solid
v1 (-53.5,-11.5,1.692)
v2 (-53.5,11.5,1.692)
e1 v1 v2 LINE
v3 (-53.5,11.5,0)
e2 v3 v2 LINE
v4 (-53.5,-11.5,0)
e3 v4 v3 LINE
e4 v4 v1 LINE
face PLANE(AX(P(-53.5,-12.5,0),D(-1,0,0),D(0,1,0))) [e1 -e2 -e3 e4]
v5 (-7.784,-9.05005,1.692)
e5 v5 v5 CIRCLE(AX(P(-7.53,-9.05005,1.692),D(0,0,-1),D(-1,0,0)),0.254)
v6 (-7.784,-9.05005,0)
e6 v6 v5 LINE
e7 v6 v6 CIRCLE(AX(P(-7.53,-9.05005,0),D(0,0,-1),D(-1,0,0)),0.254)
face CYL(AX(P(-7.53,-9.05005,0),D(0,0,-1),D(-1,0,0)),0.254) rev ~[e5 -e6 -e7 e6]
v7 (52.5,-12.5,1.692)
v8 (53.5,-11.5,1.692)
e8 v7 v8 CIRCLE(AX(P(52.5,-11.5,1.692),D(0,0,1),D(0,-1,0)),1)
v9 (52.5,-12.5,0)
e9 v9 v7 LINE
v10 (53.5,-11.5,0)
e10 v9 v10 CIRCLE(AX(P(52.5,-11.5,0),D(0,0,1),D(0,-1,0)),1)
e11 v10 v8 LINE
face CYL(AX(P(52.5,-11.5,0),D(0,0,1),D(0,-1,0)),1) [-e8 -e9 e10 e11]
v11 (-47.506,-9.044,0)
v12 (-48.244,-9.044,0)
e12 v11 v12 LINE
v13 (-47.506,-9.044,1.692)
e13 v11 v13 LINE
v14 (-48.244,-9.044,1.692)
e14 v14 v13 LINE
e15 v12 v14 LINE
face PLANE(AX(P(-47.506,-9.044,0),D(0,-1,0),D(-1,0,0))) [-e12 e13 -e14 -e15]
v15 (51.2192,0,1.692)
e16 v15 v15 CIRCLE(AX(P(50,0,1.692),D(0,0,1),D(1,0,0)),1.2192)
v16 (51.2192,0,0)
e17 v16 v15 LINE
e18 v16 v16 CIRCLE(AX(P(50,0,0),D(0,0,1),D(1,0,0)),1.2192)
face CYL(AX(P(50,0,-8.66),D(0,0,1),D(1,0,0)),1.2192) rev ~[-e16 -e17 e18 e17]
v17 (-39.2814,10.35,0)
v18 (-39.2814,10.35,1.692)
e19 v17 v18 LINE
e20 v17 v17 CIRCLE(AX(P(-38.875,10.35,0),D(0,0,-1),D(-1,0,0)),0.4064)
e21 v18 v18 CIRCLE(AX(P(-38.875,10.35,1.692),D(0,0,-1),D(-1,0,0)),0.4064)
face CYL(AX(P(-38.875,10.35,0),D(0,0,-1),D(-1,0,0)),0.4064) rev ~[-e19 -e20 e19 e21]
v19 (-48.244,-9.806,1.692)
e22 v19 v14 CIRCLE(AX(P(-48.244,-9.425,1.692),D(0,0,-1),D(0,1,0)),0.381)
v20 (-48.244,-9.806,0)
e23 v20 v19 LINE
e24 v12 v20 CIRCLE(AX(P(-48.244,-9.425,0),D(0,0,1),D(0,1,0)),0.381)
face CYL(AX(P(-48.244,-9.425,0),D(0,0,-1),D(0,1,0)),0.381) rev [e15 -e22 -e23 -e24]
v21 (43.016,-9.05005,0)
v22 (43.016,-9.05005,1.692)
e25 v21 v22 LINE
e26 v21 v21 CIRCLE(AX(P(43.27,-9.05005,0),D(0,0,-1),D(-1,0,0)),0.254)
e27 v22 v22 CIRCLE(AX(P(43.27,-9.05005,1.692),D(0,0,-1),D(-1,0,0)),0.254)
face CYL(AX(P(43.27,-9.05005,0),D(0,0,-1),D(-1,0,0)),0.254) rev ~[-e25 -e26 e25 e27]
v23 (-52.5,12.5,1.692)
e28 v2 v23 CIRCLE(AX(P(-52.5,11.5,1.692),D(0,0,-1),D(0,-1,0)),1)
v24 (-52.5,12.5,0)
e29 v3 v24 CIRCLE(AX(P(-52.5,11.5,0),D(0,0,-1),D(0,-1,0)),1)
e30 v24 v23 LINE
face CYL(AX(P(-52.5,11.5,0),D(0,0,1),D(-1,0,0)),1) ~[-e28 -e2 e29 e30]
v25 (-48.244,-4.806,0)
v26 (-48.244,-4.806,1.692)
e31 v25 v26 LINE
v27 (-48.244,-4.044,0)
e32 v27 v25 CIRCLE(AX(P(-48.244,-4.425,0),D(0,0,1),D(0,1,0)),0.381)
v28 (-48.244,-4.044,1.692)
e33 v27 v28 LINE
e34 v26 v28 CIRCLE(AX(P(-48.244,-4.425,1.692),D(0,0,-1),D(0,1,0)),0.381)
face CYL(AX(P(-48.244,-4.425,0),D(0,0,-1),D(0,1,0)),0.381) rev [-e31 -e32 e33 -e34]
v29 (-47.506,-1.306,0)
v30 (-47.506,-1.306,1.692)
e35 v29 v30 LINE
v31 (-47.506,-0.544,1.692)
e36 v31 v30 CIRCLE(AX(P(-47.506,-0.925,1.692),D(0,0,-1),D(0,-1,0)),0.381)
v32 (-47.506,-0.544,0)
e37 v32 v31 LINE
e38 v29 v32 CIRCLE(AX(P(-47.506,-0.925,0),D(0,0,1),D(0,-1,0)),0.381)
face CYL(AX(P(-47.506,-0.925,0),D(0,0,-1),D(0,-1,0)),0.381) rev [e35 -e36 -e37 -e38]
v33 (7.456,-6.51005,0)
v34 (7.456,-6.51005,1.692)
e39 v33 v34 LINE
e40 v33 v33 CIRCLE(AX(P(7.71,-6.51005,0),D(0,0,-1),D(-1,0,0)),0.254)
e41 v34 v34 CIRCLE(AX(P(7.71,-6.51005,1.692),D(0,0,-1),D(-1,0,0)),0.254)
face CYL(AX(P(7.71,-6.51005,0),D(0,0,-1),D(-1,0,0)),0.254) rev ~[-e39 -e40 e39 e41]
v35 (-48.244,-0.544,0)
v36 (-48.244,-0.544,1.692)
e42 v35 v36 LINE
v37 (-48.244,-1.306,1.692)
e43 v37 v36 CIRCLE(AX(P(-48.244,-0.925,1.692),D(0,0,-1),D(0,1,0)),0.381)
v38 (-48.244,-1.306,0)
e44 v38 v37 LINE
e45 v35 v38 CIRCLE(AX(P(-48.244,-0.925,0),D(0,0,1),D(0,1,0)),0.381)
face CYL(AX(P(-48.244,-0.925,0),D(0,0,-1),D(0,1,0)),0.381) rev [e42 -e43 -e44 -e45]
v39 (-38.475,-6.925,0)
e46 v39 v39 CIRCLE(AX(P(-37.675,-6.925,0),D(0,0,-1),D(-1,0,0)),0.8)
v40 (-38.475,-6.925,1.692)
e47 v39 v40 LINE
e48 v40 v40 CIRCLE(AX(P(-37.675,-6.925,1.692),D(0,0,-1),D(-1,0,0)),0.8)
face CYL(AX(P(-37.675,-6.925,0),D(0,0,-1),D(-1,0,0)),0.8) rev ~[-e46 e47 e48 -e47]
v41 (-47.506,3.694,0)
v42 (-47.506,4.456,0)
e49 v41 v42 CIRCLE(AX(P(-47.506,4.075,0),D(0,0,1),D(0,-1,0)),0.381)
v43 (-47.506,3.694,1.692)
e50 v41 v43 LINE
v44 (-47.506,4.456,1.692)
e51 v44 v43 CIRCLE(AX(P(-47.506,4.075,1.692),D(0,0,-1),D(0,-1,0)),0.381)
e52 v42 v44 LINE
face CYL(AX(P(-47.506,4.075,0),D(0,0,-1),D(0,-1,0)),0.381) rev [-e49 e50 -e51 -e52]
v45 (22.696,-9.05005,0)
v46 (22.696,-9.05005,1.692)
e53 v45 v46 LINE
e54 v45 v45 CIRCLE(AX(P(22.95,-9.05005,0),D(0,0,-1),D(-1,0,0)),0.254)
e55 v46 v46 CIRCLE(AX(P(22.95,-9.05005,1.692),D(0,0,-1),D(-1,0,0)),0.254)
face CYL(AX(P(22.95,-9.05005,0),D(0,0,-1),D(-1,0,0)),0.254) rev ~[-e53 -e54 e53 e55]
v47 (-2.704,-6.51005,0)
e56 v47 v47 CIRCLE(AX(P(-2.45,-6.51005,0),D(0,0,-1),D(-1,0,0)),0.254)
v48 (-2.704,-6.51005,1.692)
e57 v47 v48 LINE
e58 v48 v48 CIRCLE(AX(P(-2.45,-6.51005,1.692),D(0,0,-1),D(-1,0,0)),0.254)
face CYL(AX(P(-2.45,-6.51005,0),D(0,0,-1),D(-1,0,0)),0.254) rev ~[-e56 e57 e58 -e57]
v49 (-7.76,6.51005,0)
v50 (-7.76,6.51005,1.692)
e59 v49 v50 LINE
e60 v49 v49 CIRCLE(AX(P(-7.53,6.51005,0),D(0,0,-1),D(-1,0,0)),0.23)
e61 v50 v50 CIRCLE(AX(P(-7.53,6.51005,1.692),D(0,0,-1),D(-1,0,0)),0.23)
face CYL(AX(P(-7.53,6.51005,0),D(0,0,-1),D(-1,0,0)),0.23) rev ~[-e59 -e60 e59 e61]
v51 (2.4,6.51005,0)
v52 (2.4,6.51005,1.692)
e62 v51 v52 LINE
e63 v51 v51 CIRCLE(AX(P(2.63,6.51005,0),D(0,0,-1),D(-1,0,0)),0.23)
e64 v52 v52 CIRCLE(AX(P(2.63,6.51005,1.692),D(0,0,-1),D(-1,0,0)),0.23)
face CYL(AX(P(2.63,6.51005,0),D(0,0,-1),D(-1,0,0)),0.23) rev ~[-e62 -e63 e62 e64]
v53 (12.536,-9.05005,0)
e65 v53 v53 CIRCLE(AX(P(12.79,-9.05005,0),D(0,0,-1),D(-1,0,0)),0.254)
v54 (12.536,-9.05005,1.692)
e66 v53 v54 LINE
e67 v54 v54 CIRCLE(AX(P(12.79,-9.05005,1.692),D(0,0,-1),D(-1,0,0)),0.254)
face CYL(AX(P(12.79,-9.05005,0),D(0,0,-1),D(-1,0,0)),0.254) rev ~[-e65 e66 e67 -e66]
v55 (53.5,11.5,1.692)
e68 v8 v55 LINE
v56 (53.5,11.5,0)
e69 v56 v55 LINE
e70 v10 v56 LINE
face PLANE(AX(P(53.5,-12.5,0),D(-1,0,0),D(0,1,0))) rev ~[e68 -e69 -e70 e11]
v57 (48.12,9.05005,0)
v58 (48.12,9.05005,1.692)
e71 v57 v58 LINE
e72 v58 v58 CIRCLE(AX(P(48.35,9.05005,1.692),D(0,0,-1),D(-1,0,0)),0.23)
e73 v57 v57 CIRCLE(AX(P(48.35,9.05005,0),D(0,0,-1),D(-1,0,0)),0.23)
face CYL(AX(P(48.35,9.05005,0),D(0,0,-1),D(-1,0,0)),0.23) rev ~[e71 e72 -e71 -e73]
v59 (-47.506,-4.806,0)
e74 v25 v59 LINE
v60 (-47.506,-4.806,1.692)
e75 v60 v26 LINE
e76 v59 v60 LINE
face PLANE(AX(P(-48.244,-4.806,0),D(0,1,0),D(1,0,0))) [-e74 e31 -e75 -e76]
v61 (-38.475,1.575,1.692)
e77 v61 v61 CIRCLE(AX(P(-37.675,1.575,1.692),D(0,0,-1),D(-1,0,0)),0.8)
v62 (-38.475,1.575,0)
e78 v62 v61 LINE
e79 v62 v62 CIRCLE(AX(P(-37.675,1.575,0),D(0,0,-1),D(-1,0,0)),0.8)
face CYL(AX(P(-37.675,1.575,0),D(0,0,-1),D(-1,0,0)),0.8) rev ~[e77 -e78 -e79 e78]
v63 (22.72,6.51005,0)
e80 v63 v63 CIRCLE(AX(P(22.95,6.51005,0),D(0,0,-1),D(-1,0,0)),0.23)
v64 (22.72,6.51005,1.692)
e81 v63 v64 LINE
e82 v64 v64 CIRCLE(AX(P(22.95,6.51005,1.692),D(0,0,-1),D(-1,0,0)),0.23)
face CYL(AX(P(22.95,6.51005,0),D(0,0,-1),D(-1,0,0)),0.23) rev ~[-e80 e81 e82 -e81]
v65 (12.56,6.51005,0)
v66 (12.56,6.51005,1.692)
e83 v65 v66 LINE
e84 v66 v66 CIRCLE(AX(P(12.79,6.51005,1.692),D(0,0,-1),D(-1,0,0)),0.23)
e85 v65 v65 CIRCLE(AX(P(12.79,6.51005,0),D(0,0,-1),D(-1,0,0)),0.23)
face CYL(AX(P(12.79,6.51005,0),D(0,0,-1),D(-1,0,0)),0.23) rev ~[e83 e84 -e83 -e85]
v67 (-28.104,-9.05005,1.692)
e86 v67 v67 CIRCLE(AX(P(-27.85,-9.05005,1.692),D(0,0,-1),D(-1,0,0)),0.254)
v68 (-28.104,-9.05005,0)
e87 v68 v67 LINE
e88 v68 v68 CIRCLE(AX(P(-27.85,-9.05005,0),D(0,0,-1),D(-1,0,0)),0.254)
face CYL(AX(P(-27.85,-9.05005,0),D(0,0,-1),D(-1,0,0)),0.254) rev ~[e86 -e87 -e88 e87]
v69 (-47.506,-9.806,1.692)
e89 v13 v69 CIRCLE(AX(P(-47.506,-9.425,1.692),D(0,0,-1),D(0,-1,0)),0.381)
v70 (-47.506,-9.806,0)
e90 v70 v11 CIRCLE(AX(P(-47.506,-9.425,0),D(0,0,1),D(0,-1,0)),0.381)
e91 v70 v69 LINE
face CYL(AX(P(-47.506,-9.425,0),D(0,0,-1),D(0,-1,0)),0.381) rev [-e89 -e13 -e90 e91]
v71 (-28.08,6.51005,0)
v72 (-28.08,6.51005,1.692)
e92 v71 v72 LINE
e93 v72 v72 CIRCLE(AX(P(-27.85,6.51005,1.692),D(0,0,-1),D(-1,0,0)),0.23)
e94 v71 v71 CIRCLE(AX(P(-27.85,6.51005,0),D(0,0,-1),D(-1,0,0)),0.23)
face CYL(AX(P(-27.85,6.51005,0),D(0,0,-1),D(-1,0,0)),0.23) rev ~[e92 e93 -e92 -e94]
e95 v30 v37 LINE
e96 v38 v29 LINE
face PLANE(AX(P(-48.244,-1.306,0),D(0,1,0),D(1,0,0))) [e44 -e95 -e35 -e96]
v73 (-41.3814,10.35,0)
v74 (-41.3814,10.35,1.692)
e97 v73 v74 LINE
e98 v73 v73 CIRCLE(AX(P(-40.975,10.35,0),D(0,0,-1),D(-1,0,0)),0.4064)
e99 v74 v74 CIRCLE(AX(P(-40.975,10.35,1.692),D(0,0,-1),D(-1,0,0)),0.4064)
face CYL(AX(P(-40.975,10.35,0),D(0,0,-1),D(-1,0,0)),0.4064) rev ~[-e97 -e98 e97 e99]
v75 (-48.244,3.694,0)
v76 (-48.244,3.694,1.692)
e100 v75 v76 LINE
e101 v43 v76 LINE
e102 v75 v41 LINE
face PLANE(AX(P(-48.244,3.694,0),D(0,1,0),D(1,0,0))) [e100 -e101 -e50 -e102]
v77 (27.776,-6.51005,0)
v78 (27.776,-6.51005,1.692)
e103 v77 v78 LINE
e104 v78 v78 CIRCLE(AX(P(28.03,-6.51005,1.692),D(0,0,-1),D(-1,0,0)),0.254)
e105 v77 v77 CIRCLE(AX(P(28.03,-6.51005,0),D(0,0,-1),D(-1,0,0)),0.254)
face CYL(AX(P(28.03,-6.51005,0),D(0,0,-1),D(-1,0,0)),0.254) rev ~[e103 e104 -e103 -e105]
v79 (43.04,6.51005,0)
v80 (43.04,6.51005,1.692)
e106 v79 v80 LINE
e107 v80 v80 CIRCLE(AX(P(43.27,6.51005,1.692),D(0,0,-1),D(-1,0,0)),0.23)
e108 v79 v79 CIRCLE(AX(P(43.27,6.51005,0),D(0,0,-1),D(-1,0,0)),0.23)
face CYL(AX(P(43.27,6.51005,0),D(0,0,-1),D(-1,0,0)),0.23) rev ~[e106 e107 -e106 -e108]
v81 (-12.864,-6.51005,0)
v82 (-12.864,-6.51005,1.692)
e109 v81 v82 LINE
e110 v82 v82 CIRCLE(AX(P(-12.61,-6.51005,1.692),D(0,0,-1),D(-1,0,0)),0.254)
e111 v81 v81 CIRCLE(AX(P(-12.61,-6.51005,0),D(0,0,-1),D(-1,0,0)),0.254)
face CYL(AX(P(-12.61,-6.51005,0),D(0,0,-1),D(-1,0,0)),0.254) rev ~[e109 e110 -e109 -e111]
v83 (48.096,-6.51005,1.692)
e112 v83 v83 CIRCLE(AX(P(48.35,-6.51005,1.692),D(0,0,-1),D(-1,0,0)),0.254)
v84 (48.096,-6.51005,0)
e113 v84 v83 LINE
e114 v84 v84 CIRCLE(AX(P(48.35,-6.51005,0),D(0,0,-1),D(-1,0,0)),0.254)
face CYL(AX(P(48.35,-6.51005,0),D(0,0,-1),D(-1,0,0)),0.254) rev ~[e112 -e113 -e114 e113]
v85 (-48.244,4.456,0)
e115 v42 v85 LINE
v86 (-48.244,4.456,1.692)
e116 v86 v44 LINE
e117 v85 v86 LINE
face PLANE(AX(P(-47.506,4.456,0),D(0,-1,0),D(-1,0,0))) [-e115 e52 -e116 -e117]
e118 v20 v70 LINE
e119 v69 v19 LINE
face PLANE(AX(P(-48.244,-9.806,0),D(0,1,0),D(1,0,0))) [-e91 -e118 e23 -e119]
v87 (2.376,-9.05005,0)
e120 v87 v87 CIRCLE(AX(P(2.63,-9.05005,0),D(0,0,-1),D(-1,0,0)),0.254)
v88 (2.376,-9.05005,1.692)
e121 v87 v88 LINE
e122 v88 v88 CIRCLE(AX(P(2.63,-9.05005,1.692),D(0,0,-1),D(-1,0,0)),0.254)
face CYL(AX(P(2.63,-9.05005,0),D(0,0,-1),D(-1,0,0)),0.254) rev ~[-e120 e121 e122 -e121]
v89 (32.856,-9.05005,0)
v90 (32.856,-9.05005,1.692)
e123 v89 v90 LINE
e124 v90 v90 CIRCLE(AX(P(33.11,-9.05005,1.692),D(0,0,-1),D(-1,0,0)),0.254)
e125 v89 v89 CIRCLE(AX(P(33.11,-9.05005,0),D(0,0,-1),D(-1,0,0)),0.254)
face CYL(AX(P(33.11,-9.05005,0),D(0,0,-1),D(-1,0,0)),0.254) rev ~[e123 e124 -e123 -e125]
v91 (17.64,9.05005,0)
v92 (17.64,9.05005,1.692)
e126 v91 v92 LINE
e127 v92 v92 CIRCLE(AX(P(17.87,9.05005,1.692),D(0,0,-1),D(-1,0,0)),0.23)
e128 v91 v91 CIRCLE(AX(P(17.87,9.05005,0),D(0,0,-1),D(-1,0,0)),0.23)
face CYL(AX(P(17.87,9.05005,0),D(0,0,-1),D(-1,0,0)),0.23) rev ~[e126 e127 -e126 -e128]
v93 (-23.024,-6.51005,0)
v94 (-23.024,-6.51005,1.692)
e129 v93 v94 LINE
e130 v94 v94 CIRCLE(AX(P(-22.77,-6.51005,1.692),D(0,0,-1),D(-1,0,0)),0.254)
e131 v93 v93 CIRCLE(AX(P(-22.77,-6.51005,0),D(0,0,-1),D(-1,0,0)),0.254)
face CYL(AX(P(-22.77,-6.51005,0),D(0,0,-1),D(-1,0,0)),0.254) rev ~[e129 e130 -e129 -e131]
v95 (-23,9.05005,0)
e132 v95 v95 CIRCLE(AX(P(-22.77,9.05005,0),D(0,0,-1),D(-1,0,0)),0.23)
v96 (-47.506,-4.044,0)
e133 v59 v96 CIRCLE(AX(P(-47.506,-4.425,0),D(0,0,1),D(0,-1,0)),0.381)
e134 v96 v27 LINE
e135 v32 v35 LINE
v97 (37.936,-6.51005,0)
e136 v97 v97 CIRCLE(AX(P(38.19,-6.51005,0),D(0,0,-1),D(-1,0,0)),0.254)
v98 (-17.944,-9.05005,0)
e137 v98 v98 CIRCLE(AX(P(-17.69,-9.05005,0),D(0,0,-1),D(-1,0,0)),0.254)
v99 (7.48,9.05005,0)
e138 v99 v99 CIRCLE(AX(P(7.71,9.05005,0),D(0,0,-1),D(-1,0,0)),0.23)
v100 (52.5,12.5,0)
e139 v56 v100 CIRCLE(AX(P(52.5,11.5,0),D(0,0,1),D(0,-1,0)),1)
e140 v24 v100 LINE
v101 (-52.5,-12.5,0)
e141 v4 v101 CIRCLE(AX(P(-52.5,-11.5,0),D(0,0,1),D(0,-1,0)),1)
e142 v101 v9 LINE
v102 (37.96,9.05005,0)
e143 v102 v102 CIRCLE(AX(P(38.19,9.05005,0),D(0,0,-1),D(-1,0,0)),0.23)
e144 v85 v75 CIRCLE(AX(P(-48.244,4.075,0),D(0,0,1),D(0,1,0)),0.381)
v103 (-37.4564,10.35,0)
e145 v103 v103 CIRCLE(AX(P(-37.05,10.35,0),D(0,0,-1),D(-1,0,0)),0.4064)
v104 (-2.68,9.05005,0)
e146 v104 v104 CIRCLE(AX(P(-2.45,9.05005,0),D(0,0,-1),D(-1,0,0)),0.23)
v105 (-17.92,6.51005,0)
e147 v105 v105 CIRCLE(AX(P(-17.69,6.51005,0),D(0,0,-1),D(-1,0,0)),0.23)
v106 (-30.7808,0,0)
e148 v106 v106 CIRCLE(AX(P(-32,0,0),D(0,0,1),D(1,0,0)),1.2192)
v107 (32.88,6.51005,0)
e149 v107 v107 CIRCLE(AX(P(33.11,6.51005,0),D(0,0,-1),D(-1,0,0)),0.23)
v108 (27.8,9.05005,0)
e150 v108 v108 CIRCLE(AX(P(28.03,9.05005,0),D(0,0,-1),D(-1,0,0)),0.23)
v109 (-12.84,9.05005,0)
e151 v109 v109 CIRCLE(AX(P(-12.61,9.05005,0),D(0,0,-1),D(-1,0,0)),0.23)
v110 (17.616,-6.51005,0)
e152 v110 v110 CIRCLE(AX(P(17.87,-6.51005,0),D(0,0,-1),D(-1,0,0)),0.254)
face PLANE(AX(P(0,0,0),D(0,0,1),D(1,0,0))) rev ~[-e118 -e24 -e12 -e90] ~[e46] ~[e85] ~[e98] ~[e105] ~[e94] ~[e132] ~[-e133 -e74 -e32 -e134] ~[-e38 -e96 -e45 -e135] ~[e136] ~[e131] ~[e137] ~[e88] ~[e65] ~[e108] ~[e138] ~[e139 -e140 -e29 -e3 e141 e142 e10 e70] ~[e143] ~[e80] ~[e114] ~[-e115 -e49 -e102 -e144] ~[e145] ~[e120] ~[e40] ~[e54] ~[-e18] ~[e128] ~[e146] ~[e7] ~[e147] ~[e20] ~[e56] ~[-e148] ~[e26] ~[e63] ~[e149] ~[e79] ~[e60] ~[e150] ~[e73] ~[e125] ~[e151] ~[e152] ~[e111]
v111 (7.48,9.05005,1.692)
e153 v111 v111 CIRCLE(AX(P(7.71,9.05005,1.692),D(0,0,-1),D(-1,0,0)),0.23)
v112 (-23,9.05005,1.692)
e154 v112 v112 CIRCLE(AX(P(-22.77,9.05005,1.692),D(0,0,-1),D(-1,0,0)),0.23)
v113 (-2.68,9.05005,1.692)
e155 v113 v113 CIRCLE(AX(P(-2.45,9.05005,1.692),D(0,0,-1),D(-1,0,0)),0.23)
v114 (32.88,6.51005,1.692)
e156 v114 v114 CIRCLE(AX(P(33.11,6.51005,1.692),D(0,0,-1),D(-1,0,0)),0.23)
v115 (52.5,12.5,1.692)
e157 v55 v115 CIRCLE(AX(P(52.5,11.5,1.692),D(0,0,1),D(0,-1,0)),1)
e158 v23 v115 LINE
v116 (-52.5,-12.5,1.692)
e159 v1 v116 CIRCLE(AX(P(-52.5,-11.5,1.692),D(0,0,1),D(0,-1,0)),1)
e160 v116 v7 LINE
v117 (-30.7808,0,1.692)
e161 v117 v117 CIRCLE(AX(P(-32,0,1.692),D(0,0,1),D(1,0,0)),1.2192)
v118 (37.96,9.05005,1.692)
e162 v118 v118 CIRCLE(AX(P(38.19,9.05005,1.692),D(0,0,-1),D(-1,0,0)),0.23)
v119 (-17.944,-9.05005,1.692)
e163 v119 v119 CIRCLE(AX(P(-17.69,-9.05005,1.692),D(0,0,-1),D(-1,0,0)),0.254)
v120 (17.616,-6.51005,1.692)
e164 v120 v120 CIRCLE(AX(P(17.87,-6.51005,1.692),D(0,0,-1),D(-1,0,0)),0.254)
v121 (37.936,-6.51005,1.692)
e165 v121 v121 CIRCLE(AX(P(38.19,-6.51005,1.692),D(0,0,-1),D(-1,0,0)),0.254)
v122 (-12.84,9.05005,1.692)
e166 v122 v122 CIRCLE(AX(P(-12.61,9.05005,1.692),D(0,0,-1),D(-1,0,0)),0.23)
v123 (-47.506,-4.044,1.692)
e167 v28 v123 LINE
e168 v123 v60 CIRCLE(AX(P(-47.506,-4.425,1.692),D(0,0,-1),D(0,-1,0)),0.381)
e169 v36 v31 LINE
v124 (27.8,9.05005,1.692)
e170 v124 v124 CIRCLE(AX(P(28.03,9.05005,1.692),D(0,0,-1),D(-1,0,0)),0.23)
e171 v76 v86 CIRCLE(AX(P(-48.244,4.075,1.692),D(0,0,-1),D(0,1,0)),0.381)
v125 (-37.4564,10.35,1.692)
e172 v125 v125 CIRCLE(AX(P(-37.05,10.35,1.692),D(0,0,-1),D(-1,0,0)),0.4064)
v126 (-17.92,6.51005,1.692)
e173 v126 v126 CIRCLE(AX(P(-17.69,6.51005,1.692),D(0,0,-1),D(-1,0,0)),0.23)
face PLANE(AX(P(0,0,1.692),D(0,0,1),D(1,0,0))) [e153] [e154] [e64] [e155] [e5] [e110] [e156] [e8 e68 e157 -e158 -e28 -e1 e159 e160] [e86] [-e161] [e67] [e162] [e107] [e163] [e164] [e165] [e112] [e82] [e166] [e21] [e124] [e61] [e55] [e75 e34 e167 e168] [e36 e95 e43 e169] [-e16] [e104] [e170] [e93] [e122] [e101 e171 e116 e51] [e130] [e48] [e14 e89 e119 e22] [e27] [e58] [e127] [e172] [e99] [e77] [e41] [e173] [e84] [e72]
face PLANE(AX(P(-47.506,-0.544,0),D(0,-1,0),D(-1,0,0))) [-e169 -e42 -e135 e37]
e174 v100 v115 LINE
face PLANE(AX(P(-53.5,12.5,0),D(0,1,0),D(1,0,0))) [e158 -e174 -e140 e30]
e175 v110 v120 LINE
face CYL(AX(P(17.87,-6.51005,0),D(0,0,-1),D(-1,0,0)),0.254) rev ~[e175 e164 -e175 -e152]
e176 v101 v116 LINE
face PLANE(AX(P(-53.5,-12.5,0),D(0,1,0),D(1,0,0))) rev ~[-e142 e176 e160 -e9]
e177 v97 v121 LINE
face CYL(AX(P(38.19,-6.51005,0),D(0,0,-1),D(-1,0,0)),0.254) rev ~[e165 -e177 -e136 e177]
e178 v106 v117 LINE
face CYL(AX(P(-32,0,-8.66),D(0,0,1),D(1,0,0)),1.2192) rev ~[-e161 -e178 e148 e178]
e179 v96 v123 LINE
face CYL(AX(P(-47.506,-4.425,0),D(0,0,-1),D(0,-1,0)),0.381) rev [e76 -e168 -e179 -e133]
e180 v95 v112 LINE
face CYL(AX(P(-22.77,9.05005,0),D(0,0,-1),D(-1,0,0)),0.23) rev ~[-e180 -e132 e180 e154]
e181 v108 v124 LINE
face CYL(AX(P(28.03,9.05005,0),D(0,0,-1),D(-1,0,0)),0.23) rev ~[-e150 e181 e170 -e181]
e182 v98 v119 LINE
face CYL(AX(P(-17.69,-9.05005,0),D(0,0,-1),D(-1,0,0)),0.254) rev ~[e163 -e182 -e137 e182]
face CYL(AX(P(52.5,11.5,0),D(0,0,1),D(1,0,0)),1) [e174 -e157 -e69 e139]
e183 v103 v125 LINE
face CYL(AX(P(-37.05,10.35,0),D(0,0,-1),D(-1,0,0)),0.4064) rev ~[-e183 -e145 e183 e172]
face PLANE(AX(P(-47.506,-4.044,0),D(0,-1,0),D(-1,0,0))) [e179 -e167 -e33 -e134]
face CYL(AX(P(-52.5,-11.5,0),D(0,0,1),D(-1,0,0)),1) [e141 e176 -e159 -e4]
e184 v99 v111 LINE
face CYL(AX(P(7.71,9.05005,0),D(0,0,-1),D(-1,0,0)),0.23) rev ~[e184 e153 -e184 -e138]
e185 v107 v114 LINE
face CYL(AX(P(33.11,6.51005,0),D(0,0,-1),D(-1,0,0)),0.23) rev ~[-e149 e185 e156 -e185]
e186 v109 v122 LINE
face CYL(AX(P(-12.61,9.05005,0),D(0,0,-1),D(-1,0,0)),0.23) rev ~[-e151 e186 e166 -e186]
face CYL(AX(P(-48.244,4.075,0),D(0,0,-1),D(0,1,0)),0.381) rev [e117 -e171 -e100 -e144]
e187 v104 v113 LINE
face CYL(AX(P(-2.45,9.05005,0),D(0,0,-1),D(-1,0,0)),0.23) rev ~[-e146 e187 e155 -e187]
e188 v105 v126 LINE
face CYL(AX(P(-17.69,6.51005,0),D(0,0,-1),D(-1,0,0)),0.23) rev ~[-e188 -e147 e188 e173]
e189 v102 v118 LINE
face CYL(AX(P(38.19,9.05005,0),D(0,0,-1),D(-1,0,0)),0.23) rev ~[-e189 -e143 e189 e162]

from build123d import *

# Parameters (mm, degrees)
SKETCH1_W                 = 107
SKETCH1_H                 = 25
SKETCH1_W_2               = 86.65
SKETCH1_H_2               = 7.4399
BOSS_EXTRUDE1_DEPTH       = 1.692
FILLET1_R                 = 1
F_2_CLEARANCE_HOLE1_D     = 2.4384
F_2_CLEARANCE_HOLE1_DEPTH = 8.66
F_2_CLEARANCE_HOLE1_TIP   = 0.732569267
SKETCH10_R                = 0.8
SKETCH10_R_2              = 0.4064
CUT_EXTRUDE1_DEPTH        = 10
SKETCH11_R                = 0.254
SKETCH11_R_2              = 0.23
CUT_EXTRUDE2_DEPTH        = 2.692


with BuildPart() as part:
    # Sketch1 → Boss-Extrude1 (new body)
    with BuildSketch(Plane.XY):
        Rectangle(SKETCH1_W, SKETCH1_H)
        with Locations((8.175, 7.78005)):
            Rectangle(SKETCH1_W_2, SKETCH1_H_2, mode=Mode.SUBTRACT)
        with Locations((8.175, -7.78005)):
            Rectangle(SKETCH1_W_2, SKETCH1_H_2, mode=Mode.SUBTRACT)
        with Locations((8.175, -7.78005)):
            Rectangle(SKETCH1_W_2, SKETCH1_H_2)
        with Locations((8.175, 7.78005)):
            Rectangle(SKETCH1_W_2, SKETCH1_H_2)
    extrude(amount=BOSS_EXTRUDE1_DEPTH)

    # Fillet1
    fillet1_edges = [part.edges().sort_by_distance(p)[0] for p in [
        (53.5, -12.5, 0.846),
        (-53.5, -12.5, 0.846),
        (-53.5, 12.5, 0.846),
        (53.5, 12.5, 0.846),
    ]]
    fillet(fillet1_edges, radius=FILLET1_R)

    # 2 Clearance Hole1
    with Locations(Plane(origin=(0, 0, 0), x_dir=(-1, 0, 0), z_dir=(0, 0, -1))):
        with Locations((-50, 0), (32, 0)):
            Hole(F_2_CLEARANCE_HOLE1_D / 2, depth=F_2_CLEARANCE_HOLE1_DEPTH)
            with Locations((0, 0, -(F_2_CLEARANCE_HOLE1_DEPTH + F_2_CLEARANCE_HOLE1_TIP / 2))):  # 118° drill point
                Cone(0, F_2_CLEARANCE_HOLE1_D / 2, F_2_CLEARANCE_HOLE1_TIP, mode=Mode.SUBTRACT)

    # Sketch10 → Cut-Extrude1 (cut)
    with BuildSketch(Plane(origin=(0, 0, 0), x_dir=(-1, 0, 0), z_dir=(0, 0, -1))):
        with Locations((37.675, -6.925)):
            Circle(SKETCH10_R)
        with Locations((37.675, 1.575)):
            Circle(SKETCH10_R)
        with Locations((37.05, 10.35)):
            Circle(SKETCH10_R_2)
        with Locations((38.875, 10.35)):
            Circle(SKETCH10_R_2)
        with Locations((40.975, 10.35)):
            Circle(SKETCH10_R_2)
        with BuildLine():
            Line((48.244, -4.806), (47.506, -4.806))
            ThreePointArc((47.506, -4.806), (47.125, -4.425), (47.506, -4.044))
            Line((47.506, -4.044), (48.244, -4.044))
            ThreePointArc((48.244, -4.044), (48.625, -4.425), (48.244, -4.806))
        make_face()
        with BuildLine():
            Line((48.244, -9.806), (47.506, -9.806))
            ThreePointArc((47.506, -9.806), (47.125, -9.425), (47.506, -9.044))
            Line((47.506, -9.044), (48.244, -9.044))
            ThreePointArc((48.244, -9.044), (48.625, -9.425), (48.244, -9.806))
        make_face()
        with BuildLine():
            Line((47.506, -0.544), (48.244, -0.544))
            ThreePointArc((48.244, -0.544), (48.625, -0.925), (48.244, -1.306))
            Line((48.244, -1.306), (47.506, -1.306))
            ThreePointArc((47.506, -1.306), (47.125, -0.925), (47.506, -0.544))
        make_face()
        with BuildLine():
            Line((47.506, 4.456), (48.244, 4.456))
            ThreePointArc((48.244, 4.456), (48.625, 4.075), (48.244, 3.694))
            Line((48.244, 3.694), (47.506, 3.694))
            ThreePointArc((47.506, 3.694), (47.125, 4.075), (47.506, 4.456))
        make_face()
    extrude(amount=-CUT_EXTRUDE1_DEPTH, mode=Mode.SUBTRACT)

    # Sketch11 → Cut-Extrude2 (cut, through all)
    with BuildSketch(Plane(origin=(0, 0, 0), x_dir=(-1, 0, 0), z_dir=(0, 0, -1))):
        with Locations((27.85, -9.05005)):
            Circle(SKETCH11_R)
        with Locations((22.77, -6.51005)):
            Circle(SKETCH11_R)
        with Locations((17.69, -9.05005)):
            Circle(SKETCH11_R)
        with Locations((12.61, -6.51005)):
            Circle(SKETCH11_R)
        with Locations((17.69, 6.51005)):
            Circle(SKETCH11_R_2)
        with Locations((12.61, 9.05005)):
            Circle(SKETCH11_R_2)
        with Locations((7.53, -9.05005)):
            Circle(SKETCH11_R)
        with Locations((2.45, -6.51005)):
            Circle(SKETCH11_R)
        with Locations((7.53, 6.51005)):
            Circle(SKETCH11_R_2)
        with Locations((2.45, 9.05005)):
            Circle(SKETCH11_R_2)
        with Locations((-2.63, -9.05005)):
            Circle(SKETCH11_R)
        with Locations((-7.71, -6.51005)):
            Circle(SKETCH11_R)
        with Locations((-2.63, 6.51005)):
            Circle(SKETCH11_R_2)
        with Locations((-7.71, 9.05005)):
            Circle(SKETCH11_R_2)
        with Locations((-12.79, -9.05005)):
            Circle(SKETCH11_R)
        with Locations((-17.87, -6.51005)):
            Circle(SKETCH11_R)
        with Locations((27.85, 6.51005)):
            Circle(SKETCH11_R_2)
        with Locations((22.77, 9.05005)):
            Circle(SKETCH11_R_2)
        with Locations((-12.79, 6.51005)):
            Circle(SKETCH11_R_2)
        with Locations((-17.87, 9.05005)):
            Circle(SKETCH11_R_2)
        with Locations((-22.95, -9.05005)):
            Circle(SKETCH11_R)
        with Locations((-28.03, -6.51005)):
            Circle(SKETCH11_R)
        with Locations((-22.95, 6.51005)):
            Circle(SKETCH11_R_2)
        with Locations((-28.03, 9.05005)):
            Circle(SKETCH11_R_2)
        with Locations((-33.11, -9.05005)):
            Circle(SKETCH11_R)
        with Locations((-38.19, -6.51005)):
            Circle(SKETCH11_R)
        with Locations((-33.11, 6.51005)):
            Circle(SKETCH11_R_2)
        with Locations((-38.19, 9.05005)):
            Circle(SKETCH11_R_2)
        with Locations((-43.27, -9.05005)):
            Circle(SKETCH11_R)
        with Locations((-48.35, -6.51005)):
            Circle(SKETCH11_R)
        with Locations((-43.27, 6.51005)):
            Circle(SKETCH11_R_2)
        with Locations((-48.35, 9.05005)):
            Circle(SKETCH11_R_2)
    extrude(amount=-CUT_EXTRUDE2_DEPTH, mode=Mode.SUBTRACT)


solid = part.part
